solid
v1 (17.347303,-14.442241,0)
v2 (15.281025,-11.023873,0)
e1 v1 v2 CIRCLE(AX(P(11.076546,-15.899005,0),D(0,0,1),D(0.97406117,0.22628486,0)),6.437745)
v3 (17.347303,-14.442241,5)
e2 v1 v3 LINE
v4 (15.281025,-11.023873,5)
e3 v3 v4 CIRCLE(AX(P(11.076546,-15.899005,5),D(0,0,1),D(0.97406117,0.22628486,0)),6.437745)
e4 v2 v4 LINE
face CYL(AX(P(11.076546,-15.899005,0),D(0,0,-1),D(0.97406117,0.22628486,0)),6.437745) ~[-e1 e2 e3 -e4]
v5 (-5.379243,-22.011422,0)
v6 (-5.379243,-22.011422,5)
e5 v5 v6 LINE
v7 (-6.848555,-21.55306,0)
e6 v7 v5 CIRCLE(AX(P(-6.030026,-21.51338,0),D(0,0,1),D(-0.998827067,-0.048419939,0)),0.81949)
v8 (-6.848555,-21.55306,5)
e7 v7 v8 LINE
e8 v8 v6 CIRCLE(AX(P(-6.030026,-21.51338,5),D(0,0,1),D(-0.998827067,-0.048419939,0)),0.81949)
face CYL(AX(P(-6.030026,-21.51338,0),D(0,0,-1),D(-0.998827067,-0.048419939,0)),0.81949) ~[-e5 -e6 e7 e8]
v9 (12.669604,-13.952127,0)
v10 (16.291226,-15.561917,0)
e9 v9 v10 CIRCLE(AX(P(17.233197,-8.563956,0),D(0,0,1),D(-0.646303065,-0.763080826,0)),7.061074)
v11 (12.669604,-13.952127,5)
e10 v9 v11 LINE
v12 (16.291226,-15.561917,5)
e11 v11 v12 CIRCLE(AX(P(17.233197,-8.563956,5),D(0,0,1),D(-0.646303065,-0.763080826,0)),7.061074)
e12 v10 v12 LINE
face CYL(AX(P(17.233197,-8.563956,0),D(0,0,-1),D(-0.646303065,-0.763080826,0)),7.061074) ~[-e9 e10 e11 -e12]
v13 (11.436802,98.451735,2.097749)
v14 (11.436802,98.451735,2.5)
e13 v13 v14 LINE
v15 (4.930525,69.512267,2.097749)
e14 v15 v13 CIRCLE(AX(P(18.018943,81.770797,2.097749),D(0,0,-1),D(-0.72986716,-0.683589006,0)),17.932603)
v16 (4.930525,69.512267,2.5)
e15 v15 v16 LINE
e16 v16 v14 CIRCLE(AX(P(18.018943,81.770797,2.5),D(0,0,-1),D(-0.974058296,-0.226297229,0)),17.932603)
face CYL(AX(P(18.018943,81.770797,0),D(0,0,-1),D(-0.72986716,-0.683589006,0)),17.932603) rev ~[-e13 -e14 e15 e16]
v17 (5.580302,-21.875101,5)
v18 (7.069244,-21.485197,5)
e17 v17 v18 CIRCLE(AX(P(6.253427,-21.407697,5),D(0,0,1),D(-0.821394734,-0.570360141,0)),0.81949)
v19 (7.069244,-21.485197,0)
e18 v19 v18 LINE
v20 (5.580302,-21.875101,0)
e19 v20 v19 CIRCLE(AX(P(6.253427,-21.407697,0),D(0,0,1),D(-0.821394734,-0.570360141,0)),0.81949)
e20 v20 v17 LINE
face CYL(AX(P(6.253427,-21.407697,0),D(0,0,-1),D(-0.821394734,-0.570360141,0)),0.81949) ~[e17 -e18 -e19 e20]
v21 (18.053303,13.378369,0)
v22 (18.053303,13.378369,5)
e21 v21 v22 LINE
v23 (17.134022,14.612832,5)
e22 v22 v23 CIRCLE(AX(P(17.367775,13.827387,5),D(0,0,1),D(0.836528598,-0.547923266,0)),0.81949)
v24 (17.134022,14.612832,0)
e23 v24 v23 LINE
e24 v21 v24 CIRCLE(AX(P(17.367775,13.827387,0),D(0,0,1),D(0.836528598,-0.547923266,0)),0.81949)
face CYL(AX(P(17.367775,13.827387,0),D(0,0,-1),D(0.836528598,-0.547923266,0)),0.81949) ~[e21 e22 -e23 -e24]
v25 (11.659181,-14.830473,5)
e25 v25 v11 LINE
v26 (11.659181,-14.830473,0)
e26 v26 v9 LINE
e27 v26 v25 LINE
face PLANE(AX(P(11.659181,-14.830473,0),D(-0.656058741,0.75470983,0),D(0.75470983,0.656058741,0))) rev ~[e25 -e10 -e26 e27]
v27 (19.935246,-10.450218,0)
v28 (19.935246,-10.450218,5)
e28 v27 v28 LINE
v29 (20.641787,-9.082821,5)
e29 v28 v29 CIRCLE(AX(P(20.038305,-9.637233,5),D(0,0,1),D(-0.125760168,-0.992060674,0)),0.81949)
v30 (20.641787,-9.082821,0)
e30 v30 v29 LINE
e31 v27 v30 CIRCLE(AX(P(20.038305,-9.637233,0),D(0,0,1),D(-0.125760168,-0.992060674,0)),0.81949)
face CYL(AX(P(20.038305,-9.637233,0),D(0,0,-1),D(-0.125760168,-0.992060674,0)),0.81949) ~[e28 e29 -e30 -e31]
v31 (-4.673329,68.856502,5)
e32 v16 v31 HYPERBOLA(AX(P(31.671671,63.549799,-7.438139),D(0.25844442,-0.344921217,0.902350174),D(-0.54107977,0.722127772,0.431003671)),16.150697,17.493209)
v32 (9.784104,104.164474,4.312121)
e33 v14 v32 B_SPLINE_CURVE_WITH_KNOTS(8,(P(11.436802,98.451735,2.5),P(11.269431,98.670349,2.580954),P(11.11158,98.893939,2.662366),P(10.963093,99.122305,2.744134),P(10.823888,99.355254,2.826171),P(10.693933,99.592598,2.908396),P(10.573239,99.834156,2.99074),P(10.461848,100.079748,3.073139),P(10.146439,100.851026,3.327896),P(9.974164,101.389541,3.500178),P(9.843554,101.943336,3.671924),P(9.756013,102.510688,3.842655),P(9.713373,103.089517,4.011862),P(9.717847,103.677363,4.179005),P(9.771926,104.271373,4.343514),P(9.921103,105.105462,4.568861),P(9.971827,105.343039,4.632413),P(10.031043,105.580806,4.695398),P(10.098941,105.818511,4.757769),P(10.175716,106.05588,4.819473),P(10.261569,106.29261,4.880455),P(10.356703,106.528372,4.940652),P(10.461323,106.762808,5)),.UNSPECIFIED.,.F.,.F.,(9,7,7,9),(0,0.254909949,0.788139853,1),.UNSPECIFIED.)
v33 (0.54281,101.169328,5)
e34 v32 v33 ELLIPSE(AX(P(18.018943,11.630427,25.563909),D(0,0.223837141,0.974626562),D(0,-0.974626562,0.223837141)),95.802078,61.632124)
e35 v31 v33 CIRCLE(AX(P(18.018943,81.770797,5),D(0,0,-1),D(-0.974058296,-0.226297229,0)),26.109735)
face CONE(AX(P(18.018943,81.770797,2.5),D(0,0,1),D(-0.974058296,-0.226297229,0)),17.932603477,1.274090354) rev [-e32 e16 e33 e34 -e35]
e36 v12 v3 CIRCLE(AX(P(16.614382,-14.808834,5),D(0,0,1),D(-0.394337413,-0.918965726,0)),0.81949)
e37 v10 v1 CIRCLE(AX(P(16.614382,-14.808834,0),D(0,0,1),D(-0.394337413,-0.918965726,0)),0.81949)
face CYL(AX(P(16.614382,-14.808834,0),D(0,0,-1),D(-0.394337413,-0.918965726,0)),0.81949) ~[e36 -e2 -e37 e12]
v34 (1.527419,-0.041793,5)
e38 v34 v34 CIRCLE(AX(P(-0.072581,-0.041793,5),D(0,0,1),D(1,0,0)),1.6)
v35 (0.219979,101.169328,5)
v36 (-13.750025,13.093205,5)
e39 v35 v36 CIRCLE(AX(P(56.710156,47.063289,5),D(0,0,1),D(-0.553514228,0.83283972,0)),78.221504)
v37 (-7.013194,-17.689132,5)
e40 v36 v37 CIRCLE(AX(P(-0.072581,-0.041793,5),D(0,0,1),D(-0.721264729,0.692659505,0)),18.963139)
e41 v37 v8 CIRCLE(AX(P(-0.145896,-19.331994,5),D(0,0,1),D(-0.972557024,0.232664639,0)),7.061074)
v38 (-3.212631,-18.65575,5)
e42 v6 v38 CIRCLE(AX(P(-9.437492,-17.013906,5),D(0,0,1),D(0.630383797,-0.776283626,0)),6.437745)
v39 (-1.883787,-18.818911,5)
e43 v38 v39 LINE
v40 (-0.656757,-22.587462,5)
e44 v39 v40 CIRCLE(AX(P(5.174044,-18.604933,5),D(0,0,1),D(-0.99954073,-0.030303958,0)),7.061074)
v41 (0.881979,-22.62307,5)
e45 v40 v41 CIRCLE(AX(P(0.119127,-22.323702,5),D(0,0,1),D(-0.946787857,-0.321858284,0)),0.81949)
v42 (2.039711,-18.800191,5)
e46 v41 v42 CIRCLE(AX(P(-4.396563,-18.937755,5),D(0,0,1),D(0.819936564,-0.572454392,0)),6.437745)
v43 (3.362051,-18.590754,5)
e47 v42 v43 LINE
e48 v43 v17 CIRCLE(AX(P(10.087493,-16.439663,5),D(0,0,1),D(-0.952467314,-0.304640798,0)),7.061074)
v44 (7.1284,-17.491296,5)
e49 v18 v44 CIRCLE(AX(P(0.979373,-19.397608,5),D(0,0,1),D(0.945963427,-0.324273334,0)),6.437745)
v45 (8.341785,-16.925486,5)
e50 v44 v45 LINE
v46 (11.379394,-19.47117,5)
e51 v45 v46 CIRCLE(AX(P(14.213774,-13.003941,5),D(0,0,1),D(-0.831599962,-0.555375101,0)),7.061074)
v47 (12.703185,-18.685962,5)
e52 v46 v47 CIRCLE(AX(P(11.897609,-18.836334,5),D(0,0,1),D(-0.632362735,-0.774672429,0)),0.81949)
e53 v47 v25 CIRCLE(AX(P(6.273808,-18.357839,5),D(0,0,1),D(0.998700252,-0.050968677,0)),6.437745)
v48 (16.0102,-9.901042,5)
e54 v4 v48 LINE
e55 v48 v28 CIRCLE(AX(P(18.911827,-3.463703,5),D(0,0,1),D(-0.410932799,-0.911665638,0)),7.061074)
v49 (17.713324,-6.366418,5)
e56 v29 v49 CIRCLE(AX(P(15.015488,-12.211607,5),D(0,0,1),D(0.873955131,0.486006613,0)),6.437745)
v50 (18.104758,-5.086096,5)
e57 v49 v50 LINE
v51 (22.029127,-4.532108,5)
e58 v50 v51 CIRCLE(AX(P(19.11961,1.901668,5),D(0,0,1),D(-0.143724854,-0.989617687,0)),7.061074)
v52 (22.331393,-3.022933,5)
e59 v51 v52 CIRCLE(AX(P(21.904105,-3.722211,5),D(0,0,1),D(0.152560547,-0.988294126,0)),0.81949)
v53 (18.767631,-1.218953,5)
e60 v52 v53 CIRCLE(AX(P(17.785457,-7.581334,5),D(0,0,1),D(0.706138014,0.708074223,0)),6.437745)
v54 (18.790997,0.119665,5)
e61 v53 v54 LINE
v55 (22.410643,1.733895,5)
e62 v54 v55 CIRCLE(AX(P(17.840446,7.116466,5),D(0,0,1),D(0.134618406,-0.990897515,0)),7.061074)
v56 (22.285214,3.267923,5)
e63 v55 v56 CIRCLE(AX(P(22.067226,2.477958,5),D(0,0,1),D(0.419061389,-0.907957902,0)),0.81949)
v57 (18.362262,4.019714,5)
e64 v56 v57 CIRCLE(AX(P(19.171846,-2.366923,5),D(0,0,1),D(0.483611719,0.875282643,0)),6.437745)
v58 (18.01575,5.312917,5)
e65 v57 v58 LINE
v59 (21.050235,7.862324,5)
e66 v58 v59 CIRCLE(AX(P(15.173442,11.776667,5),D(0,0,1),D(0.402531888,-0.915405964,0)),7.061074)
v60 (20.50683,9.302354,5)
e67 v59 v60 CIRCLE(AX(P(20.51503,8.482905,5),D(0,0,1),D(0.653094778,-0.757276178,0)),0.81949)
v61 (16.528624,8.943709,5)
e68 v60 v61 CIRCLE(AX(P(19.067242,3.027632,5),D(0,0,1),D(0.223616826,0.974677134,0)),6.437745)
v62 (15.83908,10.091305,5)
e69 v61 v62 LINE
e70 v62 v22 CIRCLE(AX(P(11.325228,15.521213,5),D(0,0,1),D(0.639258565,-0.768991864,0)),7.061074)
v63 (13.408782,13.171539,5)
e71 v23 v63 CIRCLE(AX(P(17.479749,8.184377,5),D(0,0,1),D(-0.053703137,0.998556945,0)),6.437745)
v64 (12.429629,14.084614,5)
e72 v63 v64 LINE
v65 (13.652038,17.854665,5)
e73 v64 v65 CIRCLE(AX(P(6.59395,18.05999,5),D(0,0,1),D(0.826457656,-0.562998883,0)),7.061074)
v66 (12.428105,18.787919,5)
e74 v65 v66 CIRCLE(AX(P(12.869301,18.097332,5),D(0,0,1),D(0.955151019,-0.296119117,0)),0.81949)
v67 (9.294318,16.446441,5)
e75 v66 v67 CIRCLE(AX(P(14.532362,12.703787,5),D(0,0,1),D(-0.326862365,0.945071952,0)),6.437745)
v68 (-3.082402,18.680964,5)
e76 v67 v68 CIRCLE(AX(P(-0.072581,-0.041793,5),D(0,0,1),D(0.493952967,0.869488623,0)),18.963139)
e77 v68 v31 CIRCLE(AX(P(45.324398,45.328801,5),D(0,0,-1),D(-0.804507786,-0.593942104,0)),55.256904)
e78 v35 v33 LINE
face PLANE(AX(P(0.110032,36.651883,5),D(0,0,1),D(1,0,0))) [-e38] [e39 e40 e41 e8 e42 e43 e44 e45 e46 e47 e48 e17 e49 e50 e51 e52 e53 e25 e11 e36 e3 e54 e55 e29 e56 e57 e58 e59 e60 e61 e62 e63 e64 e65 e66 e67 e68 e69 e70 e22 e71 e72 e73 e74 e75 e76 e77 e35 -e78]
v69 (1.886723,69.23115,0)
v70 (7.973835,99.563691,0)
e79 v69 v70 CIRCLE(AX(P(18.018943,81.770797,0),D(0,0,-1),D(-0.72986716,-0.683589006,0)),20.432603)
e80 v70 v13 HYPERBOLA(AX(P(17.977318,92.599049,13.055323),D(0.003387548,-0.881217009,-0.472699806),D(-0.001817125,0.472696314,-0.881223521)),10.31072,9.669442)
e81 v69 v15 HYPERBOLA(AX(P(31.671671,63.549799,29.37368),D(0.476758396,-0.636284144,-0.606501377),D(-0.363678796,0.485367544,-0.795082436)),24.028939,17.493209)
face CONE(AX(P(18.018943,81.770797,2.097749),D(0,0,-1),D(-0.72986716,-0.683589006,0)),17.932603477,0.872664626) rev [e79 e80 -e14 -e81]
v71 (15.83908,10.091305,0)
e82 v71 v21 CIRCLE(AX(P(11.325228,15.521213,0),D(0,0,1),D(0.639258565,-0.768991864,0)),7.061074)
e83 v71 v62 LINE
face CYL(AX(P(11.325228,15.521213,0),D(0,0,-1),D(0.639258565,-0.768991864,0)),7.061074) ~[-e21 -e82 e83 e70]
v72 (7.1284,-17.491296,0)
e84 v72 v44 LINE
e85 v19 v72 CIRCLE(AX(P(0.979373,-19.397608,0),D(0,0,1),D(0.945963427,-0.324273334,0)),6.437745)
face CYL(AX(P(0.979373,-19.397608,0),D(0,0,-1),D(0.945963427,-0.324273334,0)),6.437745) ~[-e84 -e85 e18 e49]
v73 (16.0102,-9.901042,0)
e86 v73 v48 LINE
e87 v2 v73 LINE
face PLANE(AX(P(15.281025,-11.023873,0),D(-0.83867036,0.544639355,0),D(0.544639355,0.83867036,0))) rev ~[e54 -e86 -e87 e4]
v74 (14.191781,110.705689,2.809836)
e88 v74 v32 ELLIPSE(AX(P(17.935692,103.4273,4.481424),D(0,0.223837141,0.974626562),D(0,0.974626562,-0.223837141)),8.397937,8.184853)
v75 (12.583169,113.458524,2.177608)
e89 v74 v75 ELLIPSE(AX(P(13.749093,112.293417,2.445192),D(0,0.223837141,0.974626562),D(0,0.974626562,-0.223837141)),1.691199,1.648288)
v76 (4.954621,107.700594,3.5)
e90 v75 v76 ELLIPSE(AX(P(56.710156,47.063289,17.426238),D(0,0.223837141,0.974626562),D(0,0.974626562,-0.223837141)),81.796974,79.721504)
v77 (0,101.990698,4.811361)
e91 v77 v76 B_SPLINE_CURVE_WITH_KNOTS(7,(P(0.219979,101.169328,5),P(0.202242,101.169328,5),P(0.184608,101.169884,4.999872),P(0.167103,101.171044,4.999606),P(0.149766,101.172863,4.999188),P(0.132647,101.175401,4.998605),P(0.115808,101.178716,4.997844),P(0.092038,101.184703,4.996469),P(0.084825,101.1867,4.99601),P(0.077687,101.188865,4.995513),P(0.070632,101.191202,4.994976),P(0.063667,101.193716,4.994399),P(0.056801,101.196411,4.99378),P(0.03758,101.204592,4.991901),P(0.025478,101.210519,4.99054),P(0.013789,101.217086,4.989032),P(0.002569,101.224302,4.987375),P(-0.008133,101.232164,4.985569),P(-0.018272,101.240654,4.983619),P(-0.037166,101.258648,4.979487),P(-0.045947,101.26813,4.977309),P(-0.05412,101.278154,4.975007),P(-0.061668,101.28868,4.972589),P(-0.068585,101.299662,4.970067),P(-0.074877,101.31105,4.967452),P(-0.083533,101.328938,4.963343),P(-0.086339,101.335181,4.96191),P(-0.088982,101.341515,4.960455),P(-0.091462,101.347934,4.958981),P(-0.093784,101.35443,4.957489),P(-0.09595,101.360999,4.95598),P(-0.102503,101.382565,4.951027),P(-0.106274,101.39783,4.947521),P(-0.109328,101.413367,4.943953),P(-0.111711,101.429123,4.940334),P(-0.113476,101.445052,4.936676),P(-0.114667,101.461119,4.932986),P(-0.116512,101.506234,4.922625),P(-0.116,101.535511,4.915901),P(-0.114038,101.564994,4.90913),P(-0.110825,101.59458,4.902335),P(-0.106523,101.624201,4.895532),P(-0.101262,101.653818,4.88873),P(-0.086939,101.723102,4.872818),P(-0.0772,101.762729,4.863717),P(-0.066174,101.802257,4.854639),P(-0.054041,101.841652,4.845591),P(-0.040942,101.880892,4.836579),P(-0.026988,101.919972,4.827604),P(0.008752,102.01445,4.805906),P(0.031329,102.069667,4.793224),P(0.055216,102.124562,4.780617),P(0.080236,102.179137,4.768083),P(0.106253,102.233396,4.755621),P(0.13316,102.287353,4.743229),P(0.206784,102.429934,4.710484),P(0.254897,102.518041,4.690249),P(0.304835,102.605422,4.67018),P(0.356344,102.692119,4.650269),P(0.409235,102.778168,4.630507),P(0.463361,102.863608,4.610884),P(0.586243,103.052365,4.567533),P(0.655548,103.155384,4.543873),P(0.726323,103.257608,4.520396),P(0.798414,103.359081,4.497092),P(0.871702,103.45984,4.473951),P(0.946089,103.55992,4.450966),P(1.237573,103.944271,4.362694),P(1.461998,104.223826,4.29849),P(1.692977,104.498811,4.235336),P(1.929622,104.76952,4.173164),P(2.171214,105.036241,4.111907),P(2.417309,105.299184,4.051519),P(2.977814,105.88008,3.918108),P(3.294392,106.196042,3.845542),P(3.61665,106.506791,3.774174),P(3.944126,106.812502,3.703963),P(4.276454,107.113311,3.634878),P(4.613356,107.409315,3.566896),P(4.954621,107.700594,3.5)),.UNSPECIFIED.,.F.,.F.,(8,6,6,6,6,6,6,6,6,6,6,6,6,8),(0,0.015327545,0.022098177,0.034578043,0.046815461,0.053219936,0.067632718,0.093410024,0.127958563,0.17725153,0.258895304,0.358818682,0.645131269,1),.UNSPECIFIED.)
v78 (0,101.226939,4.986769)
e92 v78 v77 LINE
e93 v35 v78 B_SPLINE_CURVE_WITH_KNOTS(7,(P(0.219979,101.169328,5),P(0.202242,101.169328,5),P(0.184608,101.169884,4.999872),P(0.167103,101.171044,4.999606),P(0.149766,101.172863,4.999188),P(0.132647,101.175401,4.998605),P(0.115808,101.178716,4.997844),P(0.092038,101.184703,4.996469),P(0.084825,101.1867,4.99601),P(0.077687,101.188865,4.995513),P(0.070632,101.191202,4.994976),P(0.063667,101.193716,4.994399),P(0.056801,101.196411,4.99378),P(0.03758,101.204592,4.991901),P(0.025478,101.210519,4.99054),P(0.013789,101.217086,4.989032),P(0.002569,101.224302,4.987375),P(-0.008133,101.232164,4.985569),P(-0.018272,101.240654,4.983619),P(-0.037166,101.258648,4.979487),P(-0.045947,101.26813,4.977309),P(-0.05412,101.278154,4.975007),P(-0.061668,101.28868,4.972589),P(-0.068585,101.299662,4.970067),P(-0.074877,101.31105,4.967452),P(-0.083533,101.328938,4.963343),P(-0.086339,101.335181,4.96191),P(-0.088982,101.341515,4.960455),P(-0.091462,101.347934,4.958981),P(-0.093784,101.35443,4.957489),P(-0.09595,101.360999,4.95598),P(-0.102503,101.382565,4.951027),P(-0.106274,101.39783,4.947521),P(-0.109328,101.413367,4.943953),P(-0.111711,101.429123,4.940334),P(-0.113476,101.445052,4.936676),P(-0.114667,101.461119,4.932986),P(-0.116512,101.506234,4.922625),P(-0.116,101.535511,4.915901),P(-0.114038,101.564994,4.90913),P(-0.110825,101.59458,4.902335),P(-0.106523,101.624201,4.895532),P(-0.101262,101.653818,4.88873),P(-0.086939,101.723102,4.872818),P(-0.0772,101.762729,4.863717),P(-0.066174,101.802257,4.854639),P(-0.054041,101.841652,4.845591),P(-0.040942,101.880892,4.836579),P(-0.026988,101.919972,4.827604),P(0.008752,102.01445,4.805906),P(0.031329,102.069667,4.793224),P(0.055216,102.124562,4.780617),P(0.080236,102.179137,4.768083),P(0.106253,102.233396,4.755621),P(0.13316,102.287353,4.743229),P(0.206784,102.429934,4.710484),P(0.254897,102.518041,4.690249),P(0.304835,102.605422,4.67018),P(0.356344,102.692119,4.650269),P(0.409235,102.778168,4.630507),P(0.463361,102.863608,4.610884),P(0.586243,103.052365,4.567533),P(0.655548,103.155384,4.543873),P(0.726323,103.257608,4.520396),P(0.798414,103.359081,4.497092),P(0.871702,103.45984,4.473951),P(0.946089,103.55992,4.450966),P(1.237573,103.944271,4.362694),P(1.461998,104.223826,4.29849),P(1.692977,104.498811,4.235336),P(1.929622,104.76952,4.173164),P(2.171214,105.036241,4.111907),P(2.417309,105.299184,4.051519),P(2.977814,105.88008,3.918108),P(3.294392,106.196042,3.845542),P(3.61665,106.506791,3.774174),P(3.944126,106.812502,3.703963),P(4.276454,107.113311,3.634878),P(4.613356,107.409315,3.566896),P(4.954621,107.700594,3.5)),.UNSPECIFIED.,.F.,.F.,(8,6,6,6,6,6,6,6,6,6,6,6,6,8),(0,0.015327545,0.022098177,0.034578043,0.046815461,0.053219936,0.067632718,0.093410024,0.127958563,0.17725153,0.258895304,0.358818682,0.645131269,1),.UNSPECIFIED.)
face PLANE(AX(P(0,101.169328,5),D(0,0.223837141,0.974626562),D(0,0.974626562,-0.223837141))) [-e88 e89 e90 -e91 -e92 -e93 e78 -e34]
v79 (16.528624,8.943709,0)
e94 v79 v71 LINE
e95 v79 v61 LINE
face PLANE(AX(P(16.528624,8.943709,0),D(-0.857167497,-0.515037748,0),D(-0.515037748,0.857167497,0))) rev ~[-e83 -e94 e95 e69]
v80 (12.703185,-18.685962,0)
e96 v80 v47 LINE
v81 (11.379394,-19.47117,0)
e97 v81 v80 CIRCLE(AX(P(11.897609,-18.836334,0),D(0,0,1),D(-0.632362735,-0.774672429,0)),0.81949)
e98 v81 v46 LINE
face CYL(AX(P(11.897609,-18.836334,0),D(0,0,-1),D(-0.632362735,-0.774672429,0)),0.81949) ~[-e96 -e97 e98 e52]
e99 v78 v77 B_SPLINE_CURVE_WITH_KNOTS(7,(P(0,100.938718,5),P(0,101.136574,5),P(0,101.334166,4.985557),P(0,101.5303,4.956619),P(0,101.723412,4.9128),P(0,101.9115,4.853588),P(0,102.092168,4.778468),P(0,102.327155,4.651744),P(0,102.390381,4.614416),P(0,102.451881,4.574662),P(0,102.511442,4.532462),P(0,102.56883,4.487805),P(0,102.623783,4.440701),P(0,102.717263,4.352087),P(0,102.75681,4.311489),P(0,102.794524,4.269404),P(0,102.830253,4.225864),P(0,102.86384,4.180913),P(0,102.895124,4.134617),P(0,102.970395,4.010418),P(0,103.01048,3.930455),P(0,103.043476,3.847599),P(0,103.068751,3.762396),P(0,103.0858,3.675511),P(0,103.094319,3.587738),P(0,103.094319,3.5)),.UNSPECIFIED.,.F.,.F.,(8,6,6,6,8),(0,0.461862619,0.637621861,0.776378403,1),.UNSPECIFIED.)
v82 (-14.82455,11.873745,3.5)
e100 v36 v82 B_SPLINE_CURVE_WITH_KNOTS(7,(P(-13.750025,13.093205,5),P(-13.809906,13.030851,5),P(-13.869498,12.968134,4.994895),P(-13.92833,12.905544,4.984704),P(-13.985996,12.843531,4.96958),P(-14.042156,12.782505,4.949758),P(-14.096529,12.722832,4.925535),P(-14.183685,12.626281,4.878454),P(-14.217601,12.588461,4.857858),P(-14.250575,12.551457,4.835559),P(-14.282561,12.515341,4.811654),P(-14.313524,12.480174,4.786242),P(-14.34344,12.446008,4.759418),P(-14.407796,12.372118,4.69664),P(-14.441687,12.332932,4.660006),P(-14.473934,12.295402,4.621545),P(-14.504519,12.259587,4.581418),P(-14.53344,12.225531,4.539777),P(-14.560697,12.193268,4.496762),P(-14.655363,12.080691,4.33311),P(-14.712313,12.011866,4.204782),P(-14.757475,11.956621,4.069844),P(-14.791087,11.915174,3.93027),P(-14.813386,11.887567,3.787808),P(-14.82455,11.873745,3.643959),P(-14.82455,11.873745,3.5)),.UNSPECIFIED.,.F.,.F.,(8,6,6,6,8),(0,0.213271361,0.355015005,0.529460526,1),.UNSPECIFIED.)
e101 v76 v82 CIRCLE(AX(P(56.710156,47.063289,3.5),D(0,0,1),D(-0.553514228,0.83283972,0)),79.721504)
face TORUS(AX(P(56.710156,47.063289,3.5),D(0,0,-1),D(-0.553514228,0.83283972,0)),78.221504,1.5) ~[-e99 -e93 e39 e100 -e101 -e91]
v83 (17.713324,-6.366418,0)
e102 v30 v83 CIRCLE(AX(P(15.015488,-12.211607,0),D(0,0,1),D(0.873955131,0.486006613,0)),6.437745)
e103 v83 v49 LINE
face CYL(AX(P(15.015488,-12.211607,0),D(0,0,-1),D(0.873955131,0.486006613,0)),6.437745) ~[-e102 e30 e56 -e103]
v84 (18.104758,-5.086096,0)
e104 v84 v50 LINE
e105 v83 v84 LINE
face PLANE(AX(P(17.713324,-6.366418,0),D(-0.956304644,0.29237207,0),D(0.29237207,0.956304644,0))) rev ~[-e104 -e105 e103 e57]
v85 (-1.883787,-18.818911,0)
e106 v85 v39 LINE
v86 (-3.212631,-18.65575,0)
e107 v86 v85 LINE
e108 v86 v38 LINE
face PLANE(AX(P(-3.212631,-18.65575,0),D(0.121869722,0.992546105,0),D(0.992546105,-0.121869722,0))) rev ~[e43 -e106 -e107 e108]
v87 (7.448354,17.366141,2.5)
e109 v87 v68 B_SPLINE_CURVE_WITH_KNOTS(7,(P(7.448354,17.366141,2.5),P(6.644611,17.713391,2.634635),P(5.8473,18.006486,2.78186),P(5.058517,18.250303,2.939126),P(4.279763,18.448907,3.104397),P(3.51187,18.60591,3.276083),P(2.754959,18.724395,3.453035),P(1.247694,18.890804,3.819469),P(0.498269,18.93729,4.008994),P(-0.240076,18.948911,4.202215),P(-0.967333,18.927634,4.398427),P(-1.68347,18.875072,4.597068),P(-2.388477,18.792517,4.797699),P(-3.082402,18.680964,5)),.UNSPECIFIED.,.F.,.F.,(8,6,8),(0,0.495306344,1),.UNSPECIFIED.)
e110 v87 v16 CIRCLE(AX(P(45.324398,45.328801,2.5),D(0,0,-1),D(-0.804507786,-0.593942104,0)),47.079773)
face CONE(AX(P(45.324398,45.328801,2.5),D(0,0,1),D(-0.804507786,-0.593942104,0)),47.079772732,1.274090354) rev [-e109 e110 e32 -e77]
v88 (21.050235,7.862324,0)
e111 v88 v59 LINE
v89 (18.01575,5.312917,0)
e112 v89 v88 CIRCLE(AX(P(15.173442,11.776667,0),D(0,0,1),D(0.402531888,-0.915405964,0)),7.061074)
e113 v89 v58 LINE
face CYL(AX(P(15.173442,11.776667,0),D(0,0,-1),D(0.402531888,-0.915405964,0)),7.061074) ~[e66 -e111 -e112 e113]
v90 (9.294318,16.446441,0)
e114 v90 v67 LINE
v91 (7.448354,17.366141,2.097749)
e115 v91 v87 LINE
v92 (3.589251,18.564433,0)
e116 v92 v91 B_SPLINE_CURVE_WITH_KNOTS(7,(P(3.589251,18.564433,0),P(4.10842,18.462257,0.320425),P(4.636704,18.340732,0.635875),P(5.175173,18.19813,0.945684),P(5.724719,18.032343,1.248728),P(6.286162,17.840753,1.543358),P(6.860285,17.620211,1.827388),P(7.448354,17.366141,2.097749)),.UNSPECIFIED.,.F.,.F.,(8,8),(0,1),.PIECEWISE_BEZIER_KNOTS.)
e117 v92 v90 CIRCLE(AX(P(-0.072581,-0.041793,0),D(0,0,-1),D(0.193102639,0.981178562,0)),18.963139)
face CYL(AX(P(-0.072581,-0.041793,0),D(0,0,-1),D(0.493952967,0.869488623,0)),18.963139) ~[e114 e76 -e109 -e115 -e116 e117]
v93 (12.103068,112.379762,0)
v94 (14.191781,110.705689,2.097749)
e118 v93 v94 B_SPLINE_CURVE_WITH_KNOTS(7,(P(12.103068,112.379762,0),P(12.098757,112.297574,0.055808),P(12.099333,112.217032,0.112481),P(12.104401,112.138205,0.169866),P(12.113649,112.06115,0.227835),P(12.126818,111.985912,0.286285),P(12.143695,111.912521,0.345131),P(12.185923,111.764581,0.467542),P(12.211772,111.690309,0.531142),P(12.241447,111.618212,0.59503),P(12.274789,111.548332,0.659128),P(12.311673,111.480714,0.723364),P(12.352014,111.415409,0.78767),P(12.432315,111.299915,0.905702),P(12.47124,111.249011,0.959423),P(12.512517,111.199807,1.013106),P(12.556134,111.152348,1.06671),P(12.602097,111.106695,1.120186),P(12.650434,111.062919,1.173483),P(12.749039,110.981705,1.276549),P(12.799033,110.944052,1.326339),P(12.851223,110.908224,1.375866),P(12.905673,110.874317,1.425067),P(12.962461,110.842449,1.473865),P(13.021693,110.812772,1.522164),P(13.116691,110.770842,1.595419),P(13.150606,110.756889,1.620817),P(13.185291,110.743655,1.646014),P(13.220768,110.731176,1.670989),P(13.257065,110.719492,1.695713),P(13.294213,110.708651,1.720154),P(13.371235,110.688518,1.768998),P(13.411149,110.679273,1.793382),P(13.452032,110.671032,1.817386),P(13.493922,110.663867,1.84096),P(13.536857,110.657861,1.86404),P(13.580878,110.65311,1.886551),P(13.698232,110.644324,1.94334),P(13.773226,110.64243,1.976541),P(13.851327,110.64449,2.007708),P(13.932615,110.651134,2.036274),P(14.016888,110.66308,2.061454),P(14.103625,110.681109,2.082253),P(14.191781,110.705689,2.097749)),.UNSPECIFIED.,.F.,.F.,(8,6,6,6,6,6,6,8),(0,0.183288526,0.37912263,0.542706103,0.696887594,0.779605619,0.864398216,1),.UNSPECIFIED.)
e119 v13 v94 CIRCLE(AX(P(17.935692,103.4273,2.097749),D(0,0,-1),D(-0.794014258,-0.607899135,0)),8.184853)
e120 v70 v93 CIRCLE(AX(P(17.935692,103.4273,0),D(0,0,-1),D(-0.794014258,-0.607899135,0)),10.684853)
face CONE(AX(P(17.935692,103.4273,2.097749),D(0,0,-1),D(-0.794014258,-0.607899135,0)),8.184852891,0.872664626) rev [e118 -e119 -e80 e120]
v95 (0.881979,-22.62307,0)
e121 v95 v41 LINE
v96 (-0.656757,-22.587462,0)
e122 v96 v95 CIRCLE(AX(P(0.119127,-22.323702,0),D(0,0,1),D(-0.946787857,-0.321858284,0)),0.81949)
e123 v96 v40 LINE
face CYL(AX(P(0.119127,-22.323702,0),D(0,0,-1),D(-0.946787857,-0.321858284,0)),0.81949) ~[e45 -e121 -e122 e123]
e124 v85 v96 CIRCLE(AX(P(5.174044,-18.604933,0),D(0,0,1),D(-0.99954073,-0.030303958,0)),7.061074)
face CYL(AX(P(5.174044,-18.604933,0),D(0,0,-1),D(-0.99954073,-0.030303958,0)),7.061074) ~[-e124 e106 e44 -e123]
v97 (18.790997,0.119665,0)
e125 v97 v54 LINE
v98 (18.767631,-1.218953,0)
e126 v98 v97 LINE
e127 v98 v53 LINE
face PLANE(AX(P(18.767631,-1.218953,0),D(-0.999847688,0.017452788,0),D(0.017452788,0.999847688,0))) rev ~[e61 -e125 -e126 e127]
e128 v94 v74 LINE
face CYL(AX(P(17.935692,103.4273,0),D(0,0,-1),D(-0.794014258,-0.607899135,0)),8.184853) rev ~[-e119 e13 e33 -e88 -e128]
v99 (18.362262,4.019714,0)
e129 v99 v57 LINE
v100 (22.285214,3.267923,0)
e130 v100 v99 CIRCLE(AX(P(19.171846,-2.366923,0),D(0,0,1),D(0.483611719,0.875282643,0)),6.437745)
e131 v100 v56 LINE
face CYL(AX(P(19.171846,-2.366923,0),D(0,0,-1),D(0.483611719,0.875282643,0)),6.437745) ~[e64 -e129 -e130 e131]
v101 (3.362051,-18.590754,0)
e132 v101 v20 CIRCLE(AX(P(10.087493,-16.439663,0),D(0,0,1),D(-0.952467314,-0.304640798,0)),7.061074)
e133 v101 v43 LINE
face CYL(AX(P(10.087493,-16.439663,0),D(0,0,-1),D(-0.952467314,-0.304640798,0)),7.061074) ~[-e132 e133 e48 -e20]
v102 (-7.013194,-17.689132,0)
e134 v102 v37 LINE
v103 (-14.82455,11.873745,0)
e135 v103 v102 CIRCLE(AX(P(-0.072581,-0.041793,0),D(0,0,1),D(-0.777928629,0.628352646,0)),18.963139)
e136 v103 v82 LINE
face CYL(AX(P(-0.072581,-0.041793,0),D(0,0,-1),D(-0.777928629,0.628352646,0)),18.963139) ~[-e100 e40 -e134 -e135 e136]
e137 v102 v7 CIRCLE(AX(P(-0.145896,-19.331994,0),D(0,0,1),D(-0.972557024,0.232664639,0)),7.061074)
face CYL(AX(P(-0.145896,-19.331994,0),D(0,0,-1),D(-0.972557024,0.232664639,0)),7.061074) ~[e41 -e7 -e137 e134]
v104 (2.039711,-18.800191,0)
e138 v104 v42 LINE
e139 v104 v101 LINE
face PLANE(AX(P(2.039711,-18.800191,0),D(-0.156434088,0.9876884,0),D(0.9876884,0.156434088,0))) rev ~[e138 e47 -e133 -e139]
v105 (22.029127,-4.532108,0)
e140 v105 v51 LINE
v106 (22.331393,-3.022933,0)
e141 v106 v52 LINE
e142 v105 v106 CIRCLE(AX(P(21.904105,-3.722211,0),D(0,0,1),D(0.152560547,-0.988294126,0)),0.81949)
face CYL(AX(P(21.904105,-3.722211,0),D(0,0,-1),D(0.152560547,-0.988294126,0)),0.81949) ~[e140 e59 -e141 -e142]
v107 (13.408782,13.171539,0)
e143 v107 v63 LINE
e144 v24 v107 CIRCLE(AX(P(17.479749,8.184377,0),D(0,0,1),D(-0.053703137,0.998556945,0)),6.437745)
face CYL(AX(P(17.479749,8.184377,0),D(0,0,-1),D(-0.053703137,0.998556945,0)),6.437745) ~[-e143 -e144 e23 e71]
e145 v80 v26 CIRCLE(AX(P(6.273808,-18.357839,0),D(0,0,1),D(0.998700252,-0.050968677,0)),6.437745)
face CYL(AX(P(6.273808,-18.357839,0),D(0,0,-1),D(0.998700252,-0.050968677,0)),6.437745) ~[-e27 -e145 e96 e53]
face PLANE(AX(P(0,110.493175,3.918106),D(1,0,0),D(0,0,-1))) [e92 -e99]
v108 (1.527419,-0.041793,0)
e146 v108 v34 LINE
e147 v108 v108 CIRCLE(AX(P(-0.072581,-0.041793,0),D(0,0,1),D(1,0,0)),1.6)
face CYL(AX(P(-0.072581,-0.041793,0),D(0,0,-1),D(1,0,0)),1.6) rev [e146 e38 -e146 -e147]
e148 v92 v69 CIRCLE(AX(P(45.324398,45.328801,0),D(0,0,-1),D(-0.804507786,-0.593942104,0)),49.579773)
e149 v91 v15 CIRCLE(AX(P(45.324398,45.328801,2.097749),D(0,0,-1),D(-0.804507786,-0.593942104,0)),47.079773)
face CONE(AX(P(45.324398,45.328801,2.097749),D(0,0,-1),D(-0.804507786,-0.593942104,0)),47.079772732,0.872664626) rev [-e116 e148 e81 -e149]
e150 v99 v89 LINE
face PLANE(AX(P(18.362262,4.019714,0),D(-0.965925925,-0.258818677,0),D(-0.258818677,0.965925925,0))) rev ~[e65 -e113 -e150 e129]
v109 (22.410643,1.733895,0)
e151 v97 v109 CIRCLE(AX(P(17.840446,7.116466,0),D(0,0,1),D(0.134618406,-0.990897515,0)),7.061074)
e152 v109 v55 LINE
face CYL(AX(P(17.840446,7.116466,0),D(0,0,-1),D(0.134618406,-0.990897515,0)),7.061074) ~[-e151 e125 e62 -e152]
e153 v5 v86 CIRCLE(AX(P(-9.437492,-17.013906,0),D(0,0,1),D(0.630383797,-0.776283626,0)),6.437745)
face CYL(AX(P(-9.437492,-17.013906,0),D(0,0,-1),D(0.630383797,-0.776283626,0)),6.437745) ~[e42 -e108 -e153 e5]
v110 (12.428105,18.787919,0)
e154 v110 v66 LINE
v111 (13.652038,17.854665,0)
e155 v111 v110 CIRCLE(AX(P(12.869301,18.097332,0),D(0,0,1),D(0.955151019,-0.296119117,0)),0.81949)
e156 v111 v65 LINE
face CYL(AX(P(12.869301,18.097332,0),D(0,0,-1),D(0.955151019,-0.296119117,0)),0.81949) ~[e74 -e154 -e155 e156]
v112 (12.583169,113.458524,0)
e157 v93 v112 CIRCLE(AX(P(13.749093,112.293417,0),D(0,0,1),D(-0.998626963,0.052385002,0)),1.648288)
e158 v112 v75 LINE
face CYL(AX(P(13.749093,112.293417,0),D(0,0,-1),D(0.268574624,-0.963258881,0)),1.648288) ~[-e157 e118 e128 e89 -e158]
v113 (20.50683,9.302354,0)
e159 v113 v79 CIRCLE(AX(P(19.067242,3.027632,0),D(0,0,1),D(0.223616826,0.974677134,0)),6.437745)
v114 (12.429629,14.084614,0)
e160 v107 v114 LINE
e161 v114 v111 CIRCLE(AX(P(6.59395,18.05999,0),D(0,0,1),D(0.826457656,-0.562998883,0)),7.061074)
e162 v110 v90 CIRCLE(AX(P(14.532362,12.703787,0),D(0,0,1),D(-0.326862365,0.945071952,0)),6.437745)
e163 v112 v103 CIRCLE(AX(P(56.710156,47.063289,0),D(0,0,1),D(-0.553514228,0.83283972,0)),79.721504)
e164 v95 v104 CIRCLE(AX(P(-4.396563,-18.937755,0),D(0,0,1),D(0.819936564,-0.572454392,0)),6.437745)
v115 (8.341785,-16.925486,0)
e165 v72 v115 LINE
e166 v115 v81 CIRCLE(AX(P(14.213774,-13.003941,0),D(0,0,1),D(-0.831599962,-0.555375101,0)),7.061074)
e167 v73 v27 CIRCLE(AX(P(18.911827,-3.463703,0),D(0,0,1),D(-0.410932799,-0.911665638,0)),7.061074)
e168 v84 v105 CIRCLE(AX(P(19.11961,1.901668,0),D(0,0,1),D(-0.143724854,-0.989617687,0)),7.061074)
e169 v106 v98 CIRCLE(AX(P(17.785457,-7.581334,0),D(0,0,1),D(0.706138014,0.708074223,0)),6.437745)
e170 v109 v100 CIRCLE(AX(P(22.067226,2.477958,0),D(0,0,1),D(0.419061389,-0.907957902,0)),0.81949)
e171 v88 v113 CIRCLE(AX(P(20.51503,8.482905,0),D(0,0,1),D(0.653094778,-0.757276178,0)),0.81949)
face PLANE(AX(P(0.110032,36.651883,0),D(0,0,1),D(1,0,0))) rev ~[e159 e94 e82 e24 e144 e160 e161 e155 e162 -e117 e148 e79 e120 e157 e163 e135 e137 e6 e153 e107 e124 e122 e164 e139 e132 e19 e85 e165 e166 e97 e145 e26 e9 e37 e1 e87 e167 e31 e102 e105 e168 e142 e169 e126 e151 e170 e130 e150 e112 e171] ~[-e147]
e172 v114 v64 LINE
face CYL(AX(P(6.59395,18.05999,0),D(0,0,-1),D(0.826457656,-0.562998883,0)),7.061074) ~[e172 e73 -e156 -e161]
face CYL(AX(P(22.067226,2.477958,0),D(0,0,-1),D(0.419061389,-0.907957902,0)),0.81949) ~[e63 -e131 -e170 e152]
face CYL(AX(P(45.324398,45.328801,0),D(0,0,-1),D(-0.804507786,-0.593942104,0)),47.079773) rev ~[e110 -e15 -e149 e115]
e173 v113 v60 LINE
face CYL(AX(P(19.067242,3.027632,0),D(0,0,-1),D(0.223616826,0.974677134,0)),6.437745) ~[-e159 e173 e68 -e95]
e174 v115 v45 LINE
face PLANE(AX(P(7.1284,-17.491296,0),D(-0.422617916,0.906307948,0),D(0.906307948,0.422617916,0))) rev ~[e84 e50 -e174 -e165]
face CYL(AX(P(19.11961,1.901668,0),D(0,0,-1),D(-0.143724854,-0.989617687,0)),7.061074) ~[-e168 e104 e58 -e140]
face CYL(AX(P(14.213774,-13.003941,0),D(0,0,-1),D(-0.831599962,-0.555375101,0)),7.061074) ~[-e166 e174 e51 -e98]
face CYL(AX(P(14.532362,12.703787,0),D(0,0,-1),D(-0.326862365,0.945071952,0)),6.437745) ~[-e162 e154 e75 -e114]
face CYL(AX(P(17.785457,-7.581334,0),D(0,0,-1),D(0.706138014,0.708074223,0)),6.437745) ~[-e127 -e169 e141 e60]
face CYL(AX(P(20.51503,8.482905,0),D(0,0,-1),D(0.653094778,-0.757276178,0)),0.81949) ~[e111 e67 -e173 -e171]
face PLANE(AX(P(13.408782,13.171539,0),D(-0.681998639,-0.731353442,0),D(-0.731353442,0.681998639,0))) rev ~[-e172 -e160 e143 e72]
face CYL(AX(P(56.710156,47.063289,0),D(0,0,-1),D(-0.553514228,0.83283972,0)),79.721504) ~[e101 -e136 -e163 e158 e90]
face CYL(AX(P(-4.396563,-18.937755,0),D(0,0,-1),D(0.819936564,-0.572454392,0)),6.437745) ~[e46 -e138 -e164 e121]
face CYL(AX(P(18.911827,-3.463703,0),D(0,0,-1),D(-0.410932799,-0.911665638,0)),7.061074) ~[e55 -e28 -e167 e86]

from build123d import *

# Parameters (mm, degrees)
CROQUIS1_R                         = 1.6
BASE_PINZA_IZQ_DEPTH               = 5
FILO_PINZA_IZQ_FRENTE_SIZE         = 2.5
FILO_PINZA_IZQ_FRENTE_SIZE2        = 8.177131546
FILO_PINZA_IZQ_FRENTE_PART_2_SIZE  = 2.5
FILO_PINZA_IZQ_FRENTE_PART_2_SIZE2 = 8.177131546
FILO_PINZA_IZQ_TRASERA_SIZE        = 2.5
FILO_PINZA_IZQ_TRASERA_SIZE2       = 2.097749078
REDONDEO_PINZA_R                   = 1.5
FILO_PUNTA_DE_LA_PINZA_DEPTH       = 25


with BuildPart() as part:
    # Croquis1 → Base pinza Izq (new body)
    with BuildSketch(Plane.XY):
        with BuildLine():
            Line((-3.21263052, -18.655749546), (-1.883787412, -18.818911478))
            ThreePointArc((-1.883787412, -18.818911478), (-1.540097921, -20.791041192), (-0.656756643, -22.587461594))
            ThreePointArc((-0.656756643, -22.587461594), (0.100167827, -23.142972839), (0.881978822, -22.623069999))
            ThreePointArc((0.881978822, -22.623069999), (1.764835319, -20.803692071), (2.039711322, -18.800191429))
            Line((2.039711322, -18.800191429), (3.362050825, -18.590753944))
            ThreePointArc((3.362050825, -18.590753944), (4.236018988, -20.391753035), (5.580301692, -21.875101303))
            ThreePointArc((5.580301692, -21.875101303), (6.461023842, -22.200456325), (7.069244162, -21.485197324))
            ThreePointArc((7.069244162, -21.485197324), (7.416411774, -19.492950781), (7.128399927, -17.491296261))
            Line((7.128399927, -17.491296261), (8.341785446, -16.925485865))
            ThreePointArc((8.341785446, -16.925485865), (9.678320191, -18.415819032), (11.379393858, -19.471170374))
            ThreePointArc((11.379393858, -19.471170374), (12.315678324, -19.54116177), (12.70318512, -18.685962448))
            ThreePointArc((12.70318512, -18.685962448), (12.487766478, -16.675199795), (11.659180963, -14.830472801))
            Line((11.659180963, -14.830472801), (12.669603503, -13.952126564))
            ThreePointArc((12.669603503, -13.952126564), (14.365154653, -15.016327849), (16.291225864, -15.561917222))
            ThreePointArc((16.291225864, -15.561917222), (17.2105325, -15.371122295), (17.347303061, -14.442240596))
            ThreePointArc((17.347303061, -14.442240596), (16.585988071, -12.568748903), (15.281024883, -11.023872625))
            Line((15.281024883, -11.023872625), (16.010200333, -9.901041834))
            ThreePointArc((16.010200333, -9.901041834), (17.933402334, -10.45666053), (19.935245626, -10.450217521))
            ThreePointArc((19.935245626, -10.450217521), (20.766349673, -10.013418415), (20.641787479, -9.082820943))
            ThreePointArc((20.641787479, -9.082820943), (19.393560244, -7.491751991), (17.713323504, -6.366418202))
            Line((17.713323504, -6.366418202), (18.104757824, -5.086095979))
            ThreePointArc((18.104757824, -5.086095979), (20.10660751, -5.090084635), (22.029126852, -4.532108425))
            ThreePointArc((22.029126852, -4.532108425), (22.707637188, -3.883146854), (22.331392895, -3.022933143))
            ThreePointArc((22.331392895, -3.022933143), (20.692961828, -1.837557559), (18.76763058, -1.218953305))
            Line((18.76763058, -1.218953305), (18.790996766, 0.119665328))
            ThreePointArc((18.790996766, 0.119665328), (20.716397612, 0.66761574), (22.410642729, 1.733895046))
            ThreePointArc((22.410642729, 1.733895046), (22.883990674, 2.544739741), (22.285214414, 3.267923249))
            ThreePointArc((22.285214414, 3.267923249), (20.383519596, 3.955766587), (18.362261974, 4.019713947))
            Line((18.362261974, 4.019713947), (18.015749693, 5.312917357))
            ThreePointArc((18.015749693, 5.312917357), (19.715528173, 6.370353498), (21.0502347, 7.862324196))
            ThreePointArc((21.0502347, 7.862324196), (21.28174686, 8.772230519), (20.506829787, 9.30235402))
            ThreePointArc((20.506829787, 9.30235402), (18.489208082, 9.439373341), (16.528624271, 8.943709383))
            Line((16.528624271, 8.943709383), (15.83908012, 10.091304558))
            ThreePointArc((15.83908012, 10.091304558), (17.181543163, 11.576299862), (18.053302564, 13.378369123))
            ThreePointArc((18.053302564, 13.378369123), (18.025042163, 14.316840617), (17.134022223, 14.61283194))
            ThreePointArc((17.134022223, 14.61283194), (15.156792117, 14.188411454), (13.408781501, 13.171538539))
            Line((13.408781501, 13.171538539), (12.429629021, 14.084613696))
            ThreePointArc((12.429629021, 14.084613696), (13.310767144, 15.882115764), (13.652038458, 17.854665374))
            ThreePointArc((13.652038458, 17.854665374), (13.366195015, 18.748992453), (12.428105411, 18.787919193))
            ThreePointArc((12.428105411, 18.787919193), (10.679055036, 17.860974772), (9.294318125, 16.446440621))
            ThreePointArc((9.294318125, 16.446440621), (8.383848535, 16.931404874), (7.448354327, 17.366141334))
            ThreePointArc((7.448354327, 17.366141334), (-1.700590628, 43.058240857), (4.930525057, 69.51226657))
            ThreePointArc((4.930525057, 69.51226657), (0.52306005, 85.704285694), (11.436802268, 98.451734925))
            ThreePointArc((11.436802268, 98.451734925), (9.950168374, 105.222634605), (14.191781062, 110.70568892))
            ThreePointArc((14.191781062, 110.70568892), (15.17222045, 113.125017455), (12.583169371, 113.458523773))
            ThreePointArc((12.583169371, 113.458523773), (-20.259146899, 67.82971774), (-14.824550004, 11.873745454))
            ThreePointArc((-14.824550004, 11.873745454), (-18.406509969, -4.886141091), (-7.013193513, -17.689131926))
            ThreePointArc((-7.013193513, -17.689131926), (-7.200569296, -19.632587419), (-6.848555023, -21.553059987))
            ThreePointArc((-6.848555023, -21.553059987), (-6.274072174, -22.295688328), (-5.379242566, -22.011421958))
            ThreePointArc((-5.379242566, -22.011421958), (-4.029097912, -20.505871876), (-3.21263052, -18.655749546))
        make_face()
        with Locations((-0.072580898, -0.041793431)):
            Circle(CROQUIS1_R, mode=Mode.SUBTRACT)
    extrude(amount=BASE_PINZA_IZQ_DEPTH)

    # Filo Pinza Izq frente
    filo_pinza_izq_frente_edges = [part.edges().sort_by_distance(p)[0] for p in [
        (-1.700590628, 43.058240857, 5),
    ]]
    filo_pinza_izq_frente_side = [part.faces().sort_by_distance(p)[0] for p in [
        (-1.700590628, 43.058240857, 2.5),
    ]]
    chamfer(filo_pinza_izq_frente_edges, length=FILO_PINZA_IZQ_FRENTE_SIZE, length2=FILO_PINZA_IZQ_FRENTE_SIZE2, reference=filo_pinza_izq_frente_side[0])

    # Filo Pinza Izq frente part 2
    filo_pinza_izq_frente_part_2_edges = [part.edges().sort_by_distance(p)[0] for p in [
        (0.52306005, 85.704285694, 5),
    ]]
    filo_pinza_izq_frente_part_2_side = [part.faces().sort_by_distance(p)[0] for p in [
        (0.52306005, 85.704285694, 2.5),
    ]]
    chamfer(filo_pinza_izq_frente_part_2_edges, length=FILO_PINZA_IZQ_FRENTE_PART_2_SIZE, length2=FILO_PINZA_IZQ_FRENTE_PART_2_SIZE2, reference=filo_pinza_izq_frente_part_2_side[0])

    # Filo Pinza Izq trasera
    filo_pinza_izq_trasera_edges = [part.edges().sort_by_distance(p)[0] for p in [
        (9.950168374, 105.222634605, 0),
        (0.52306005, 85.704285694, 0),
        (-1.700590628, 43.058240857, 0),
    ]]
    filo_pinza_izq_trasera_side = [part.faces().sort_by_distance(p)[0] for p in [
        (-4.202450513, 33.436926911, 0),
    ]]
    chamfer(filo_pinza_izq_trasera_edges, length=FILO_PINZA_IZQ_TRASERA_SIZE, length2=FILO_PINZA_IZQ_TRASERA_SIZE2, reference=filo_pinza_izq_trasera_side[0])

    # Redondeo pinza
    redondeo_pinza_edges = [part.edges().sort_by_distance(p)[0] for p in [
        (-20.259146899, 67.82971774, 5),
    ]]
    fillet(redondeo_pinza_edges, radius=REDONDEO_PINZA_R)

    # Croquis2 → Filo punta de la pinza (cut)
    with BuildSketch(Plane(origin=(0, 0, 0), x_dir=(0, 0, -1), z_dir=(1, 0, 0))):
        Polygon((-5, 101.169328416), (-1.113038662, 118.093846631), (-5, 118.093846631), align=None)
    extrude(amount=FILO_PUNTA_DE_LA_PINZA_DEPTH, mode=Mode.SUBTRACT)


solid = part.part
